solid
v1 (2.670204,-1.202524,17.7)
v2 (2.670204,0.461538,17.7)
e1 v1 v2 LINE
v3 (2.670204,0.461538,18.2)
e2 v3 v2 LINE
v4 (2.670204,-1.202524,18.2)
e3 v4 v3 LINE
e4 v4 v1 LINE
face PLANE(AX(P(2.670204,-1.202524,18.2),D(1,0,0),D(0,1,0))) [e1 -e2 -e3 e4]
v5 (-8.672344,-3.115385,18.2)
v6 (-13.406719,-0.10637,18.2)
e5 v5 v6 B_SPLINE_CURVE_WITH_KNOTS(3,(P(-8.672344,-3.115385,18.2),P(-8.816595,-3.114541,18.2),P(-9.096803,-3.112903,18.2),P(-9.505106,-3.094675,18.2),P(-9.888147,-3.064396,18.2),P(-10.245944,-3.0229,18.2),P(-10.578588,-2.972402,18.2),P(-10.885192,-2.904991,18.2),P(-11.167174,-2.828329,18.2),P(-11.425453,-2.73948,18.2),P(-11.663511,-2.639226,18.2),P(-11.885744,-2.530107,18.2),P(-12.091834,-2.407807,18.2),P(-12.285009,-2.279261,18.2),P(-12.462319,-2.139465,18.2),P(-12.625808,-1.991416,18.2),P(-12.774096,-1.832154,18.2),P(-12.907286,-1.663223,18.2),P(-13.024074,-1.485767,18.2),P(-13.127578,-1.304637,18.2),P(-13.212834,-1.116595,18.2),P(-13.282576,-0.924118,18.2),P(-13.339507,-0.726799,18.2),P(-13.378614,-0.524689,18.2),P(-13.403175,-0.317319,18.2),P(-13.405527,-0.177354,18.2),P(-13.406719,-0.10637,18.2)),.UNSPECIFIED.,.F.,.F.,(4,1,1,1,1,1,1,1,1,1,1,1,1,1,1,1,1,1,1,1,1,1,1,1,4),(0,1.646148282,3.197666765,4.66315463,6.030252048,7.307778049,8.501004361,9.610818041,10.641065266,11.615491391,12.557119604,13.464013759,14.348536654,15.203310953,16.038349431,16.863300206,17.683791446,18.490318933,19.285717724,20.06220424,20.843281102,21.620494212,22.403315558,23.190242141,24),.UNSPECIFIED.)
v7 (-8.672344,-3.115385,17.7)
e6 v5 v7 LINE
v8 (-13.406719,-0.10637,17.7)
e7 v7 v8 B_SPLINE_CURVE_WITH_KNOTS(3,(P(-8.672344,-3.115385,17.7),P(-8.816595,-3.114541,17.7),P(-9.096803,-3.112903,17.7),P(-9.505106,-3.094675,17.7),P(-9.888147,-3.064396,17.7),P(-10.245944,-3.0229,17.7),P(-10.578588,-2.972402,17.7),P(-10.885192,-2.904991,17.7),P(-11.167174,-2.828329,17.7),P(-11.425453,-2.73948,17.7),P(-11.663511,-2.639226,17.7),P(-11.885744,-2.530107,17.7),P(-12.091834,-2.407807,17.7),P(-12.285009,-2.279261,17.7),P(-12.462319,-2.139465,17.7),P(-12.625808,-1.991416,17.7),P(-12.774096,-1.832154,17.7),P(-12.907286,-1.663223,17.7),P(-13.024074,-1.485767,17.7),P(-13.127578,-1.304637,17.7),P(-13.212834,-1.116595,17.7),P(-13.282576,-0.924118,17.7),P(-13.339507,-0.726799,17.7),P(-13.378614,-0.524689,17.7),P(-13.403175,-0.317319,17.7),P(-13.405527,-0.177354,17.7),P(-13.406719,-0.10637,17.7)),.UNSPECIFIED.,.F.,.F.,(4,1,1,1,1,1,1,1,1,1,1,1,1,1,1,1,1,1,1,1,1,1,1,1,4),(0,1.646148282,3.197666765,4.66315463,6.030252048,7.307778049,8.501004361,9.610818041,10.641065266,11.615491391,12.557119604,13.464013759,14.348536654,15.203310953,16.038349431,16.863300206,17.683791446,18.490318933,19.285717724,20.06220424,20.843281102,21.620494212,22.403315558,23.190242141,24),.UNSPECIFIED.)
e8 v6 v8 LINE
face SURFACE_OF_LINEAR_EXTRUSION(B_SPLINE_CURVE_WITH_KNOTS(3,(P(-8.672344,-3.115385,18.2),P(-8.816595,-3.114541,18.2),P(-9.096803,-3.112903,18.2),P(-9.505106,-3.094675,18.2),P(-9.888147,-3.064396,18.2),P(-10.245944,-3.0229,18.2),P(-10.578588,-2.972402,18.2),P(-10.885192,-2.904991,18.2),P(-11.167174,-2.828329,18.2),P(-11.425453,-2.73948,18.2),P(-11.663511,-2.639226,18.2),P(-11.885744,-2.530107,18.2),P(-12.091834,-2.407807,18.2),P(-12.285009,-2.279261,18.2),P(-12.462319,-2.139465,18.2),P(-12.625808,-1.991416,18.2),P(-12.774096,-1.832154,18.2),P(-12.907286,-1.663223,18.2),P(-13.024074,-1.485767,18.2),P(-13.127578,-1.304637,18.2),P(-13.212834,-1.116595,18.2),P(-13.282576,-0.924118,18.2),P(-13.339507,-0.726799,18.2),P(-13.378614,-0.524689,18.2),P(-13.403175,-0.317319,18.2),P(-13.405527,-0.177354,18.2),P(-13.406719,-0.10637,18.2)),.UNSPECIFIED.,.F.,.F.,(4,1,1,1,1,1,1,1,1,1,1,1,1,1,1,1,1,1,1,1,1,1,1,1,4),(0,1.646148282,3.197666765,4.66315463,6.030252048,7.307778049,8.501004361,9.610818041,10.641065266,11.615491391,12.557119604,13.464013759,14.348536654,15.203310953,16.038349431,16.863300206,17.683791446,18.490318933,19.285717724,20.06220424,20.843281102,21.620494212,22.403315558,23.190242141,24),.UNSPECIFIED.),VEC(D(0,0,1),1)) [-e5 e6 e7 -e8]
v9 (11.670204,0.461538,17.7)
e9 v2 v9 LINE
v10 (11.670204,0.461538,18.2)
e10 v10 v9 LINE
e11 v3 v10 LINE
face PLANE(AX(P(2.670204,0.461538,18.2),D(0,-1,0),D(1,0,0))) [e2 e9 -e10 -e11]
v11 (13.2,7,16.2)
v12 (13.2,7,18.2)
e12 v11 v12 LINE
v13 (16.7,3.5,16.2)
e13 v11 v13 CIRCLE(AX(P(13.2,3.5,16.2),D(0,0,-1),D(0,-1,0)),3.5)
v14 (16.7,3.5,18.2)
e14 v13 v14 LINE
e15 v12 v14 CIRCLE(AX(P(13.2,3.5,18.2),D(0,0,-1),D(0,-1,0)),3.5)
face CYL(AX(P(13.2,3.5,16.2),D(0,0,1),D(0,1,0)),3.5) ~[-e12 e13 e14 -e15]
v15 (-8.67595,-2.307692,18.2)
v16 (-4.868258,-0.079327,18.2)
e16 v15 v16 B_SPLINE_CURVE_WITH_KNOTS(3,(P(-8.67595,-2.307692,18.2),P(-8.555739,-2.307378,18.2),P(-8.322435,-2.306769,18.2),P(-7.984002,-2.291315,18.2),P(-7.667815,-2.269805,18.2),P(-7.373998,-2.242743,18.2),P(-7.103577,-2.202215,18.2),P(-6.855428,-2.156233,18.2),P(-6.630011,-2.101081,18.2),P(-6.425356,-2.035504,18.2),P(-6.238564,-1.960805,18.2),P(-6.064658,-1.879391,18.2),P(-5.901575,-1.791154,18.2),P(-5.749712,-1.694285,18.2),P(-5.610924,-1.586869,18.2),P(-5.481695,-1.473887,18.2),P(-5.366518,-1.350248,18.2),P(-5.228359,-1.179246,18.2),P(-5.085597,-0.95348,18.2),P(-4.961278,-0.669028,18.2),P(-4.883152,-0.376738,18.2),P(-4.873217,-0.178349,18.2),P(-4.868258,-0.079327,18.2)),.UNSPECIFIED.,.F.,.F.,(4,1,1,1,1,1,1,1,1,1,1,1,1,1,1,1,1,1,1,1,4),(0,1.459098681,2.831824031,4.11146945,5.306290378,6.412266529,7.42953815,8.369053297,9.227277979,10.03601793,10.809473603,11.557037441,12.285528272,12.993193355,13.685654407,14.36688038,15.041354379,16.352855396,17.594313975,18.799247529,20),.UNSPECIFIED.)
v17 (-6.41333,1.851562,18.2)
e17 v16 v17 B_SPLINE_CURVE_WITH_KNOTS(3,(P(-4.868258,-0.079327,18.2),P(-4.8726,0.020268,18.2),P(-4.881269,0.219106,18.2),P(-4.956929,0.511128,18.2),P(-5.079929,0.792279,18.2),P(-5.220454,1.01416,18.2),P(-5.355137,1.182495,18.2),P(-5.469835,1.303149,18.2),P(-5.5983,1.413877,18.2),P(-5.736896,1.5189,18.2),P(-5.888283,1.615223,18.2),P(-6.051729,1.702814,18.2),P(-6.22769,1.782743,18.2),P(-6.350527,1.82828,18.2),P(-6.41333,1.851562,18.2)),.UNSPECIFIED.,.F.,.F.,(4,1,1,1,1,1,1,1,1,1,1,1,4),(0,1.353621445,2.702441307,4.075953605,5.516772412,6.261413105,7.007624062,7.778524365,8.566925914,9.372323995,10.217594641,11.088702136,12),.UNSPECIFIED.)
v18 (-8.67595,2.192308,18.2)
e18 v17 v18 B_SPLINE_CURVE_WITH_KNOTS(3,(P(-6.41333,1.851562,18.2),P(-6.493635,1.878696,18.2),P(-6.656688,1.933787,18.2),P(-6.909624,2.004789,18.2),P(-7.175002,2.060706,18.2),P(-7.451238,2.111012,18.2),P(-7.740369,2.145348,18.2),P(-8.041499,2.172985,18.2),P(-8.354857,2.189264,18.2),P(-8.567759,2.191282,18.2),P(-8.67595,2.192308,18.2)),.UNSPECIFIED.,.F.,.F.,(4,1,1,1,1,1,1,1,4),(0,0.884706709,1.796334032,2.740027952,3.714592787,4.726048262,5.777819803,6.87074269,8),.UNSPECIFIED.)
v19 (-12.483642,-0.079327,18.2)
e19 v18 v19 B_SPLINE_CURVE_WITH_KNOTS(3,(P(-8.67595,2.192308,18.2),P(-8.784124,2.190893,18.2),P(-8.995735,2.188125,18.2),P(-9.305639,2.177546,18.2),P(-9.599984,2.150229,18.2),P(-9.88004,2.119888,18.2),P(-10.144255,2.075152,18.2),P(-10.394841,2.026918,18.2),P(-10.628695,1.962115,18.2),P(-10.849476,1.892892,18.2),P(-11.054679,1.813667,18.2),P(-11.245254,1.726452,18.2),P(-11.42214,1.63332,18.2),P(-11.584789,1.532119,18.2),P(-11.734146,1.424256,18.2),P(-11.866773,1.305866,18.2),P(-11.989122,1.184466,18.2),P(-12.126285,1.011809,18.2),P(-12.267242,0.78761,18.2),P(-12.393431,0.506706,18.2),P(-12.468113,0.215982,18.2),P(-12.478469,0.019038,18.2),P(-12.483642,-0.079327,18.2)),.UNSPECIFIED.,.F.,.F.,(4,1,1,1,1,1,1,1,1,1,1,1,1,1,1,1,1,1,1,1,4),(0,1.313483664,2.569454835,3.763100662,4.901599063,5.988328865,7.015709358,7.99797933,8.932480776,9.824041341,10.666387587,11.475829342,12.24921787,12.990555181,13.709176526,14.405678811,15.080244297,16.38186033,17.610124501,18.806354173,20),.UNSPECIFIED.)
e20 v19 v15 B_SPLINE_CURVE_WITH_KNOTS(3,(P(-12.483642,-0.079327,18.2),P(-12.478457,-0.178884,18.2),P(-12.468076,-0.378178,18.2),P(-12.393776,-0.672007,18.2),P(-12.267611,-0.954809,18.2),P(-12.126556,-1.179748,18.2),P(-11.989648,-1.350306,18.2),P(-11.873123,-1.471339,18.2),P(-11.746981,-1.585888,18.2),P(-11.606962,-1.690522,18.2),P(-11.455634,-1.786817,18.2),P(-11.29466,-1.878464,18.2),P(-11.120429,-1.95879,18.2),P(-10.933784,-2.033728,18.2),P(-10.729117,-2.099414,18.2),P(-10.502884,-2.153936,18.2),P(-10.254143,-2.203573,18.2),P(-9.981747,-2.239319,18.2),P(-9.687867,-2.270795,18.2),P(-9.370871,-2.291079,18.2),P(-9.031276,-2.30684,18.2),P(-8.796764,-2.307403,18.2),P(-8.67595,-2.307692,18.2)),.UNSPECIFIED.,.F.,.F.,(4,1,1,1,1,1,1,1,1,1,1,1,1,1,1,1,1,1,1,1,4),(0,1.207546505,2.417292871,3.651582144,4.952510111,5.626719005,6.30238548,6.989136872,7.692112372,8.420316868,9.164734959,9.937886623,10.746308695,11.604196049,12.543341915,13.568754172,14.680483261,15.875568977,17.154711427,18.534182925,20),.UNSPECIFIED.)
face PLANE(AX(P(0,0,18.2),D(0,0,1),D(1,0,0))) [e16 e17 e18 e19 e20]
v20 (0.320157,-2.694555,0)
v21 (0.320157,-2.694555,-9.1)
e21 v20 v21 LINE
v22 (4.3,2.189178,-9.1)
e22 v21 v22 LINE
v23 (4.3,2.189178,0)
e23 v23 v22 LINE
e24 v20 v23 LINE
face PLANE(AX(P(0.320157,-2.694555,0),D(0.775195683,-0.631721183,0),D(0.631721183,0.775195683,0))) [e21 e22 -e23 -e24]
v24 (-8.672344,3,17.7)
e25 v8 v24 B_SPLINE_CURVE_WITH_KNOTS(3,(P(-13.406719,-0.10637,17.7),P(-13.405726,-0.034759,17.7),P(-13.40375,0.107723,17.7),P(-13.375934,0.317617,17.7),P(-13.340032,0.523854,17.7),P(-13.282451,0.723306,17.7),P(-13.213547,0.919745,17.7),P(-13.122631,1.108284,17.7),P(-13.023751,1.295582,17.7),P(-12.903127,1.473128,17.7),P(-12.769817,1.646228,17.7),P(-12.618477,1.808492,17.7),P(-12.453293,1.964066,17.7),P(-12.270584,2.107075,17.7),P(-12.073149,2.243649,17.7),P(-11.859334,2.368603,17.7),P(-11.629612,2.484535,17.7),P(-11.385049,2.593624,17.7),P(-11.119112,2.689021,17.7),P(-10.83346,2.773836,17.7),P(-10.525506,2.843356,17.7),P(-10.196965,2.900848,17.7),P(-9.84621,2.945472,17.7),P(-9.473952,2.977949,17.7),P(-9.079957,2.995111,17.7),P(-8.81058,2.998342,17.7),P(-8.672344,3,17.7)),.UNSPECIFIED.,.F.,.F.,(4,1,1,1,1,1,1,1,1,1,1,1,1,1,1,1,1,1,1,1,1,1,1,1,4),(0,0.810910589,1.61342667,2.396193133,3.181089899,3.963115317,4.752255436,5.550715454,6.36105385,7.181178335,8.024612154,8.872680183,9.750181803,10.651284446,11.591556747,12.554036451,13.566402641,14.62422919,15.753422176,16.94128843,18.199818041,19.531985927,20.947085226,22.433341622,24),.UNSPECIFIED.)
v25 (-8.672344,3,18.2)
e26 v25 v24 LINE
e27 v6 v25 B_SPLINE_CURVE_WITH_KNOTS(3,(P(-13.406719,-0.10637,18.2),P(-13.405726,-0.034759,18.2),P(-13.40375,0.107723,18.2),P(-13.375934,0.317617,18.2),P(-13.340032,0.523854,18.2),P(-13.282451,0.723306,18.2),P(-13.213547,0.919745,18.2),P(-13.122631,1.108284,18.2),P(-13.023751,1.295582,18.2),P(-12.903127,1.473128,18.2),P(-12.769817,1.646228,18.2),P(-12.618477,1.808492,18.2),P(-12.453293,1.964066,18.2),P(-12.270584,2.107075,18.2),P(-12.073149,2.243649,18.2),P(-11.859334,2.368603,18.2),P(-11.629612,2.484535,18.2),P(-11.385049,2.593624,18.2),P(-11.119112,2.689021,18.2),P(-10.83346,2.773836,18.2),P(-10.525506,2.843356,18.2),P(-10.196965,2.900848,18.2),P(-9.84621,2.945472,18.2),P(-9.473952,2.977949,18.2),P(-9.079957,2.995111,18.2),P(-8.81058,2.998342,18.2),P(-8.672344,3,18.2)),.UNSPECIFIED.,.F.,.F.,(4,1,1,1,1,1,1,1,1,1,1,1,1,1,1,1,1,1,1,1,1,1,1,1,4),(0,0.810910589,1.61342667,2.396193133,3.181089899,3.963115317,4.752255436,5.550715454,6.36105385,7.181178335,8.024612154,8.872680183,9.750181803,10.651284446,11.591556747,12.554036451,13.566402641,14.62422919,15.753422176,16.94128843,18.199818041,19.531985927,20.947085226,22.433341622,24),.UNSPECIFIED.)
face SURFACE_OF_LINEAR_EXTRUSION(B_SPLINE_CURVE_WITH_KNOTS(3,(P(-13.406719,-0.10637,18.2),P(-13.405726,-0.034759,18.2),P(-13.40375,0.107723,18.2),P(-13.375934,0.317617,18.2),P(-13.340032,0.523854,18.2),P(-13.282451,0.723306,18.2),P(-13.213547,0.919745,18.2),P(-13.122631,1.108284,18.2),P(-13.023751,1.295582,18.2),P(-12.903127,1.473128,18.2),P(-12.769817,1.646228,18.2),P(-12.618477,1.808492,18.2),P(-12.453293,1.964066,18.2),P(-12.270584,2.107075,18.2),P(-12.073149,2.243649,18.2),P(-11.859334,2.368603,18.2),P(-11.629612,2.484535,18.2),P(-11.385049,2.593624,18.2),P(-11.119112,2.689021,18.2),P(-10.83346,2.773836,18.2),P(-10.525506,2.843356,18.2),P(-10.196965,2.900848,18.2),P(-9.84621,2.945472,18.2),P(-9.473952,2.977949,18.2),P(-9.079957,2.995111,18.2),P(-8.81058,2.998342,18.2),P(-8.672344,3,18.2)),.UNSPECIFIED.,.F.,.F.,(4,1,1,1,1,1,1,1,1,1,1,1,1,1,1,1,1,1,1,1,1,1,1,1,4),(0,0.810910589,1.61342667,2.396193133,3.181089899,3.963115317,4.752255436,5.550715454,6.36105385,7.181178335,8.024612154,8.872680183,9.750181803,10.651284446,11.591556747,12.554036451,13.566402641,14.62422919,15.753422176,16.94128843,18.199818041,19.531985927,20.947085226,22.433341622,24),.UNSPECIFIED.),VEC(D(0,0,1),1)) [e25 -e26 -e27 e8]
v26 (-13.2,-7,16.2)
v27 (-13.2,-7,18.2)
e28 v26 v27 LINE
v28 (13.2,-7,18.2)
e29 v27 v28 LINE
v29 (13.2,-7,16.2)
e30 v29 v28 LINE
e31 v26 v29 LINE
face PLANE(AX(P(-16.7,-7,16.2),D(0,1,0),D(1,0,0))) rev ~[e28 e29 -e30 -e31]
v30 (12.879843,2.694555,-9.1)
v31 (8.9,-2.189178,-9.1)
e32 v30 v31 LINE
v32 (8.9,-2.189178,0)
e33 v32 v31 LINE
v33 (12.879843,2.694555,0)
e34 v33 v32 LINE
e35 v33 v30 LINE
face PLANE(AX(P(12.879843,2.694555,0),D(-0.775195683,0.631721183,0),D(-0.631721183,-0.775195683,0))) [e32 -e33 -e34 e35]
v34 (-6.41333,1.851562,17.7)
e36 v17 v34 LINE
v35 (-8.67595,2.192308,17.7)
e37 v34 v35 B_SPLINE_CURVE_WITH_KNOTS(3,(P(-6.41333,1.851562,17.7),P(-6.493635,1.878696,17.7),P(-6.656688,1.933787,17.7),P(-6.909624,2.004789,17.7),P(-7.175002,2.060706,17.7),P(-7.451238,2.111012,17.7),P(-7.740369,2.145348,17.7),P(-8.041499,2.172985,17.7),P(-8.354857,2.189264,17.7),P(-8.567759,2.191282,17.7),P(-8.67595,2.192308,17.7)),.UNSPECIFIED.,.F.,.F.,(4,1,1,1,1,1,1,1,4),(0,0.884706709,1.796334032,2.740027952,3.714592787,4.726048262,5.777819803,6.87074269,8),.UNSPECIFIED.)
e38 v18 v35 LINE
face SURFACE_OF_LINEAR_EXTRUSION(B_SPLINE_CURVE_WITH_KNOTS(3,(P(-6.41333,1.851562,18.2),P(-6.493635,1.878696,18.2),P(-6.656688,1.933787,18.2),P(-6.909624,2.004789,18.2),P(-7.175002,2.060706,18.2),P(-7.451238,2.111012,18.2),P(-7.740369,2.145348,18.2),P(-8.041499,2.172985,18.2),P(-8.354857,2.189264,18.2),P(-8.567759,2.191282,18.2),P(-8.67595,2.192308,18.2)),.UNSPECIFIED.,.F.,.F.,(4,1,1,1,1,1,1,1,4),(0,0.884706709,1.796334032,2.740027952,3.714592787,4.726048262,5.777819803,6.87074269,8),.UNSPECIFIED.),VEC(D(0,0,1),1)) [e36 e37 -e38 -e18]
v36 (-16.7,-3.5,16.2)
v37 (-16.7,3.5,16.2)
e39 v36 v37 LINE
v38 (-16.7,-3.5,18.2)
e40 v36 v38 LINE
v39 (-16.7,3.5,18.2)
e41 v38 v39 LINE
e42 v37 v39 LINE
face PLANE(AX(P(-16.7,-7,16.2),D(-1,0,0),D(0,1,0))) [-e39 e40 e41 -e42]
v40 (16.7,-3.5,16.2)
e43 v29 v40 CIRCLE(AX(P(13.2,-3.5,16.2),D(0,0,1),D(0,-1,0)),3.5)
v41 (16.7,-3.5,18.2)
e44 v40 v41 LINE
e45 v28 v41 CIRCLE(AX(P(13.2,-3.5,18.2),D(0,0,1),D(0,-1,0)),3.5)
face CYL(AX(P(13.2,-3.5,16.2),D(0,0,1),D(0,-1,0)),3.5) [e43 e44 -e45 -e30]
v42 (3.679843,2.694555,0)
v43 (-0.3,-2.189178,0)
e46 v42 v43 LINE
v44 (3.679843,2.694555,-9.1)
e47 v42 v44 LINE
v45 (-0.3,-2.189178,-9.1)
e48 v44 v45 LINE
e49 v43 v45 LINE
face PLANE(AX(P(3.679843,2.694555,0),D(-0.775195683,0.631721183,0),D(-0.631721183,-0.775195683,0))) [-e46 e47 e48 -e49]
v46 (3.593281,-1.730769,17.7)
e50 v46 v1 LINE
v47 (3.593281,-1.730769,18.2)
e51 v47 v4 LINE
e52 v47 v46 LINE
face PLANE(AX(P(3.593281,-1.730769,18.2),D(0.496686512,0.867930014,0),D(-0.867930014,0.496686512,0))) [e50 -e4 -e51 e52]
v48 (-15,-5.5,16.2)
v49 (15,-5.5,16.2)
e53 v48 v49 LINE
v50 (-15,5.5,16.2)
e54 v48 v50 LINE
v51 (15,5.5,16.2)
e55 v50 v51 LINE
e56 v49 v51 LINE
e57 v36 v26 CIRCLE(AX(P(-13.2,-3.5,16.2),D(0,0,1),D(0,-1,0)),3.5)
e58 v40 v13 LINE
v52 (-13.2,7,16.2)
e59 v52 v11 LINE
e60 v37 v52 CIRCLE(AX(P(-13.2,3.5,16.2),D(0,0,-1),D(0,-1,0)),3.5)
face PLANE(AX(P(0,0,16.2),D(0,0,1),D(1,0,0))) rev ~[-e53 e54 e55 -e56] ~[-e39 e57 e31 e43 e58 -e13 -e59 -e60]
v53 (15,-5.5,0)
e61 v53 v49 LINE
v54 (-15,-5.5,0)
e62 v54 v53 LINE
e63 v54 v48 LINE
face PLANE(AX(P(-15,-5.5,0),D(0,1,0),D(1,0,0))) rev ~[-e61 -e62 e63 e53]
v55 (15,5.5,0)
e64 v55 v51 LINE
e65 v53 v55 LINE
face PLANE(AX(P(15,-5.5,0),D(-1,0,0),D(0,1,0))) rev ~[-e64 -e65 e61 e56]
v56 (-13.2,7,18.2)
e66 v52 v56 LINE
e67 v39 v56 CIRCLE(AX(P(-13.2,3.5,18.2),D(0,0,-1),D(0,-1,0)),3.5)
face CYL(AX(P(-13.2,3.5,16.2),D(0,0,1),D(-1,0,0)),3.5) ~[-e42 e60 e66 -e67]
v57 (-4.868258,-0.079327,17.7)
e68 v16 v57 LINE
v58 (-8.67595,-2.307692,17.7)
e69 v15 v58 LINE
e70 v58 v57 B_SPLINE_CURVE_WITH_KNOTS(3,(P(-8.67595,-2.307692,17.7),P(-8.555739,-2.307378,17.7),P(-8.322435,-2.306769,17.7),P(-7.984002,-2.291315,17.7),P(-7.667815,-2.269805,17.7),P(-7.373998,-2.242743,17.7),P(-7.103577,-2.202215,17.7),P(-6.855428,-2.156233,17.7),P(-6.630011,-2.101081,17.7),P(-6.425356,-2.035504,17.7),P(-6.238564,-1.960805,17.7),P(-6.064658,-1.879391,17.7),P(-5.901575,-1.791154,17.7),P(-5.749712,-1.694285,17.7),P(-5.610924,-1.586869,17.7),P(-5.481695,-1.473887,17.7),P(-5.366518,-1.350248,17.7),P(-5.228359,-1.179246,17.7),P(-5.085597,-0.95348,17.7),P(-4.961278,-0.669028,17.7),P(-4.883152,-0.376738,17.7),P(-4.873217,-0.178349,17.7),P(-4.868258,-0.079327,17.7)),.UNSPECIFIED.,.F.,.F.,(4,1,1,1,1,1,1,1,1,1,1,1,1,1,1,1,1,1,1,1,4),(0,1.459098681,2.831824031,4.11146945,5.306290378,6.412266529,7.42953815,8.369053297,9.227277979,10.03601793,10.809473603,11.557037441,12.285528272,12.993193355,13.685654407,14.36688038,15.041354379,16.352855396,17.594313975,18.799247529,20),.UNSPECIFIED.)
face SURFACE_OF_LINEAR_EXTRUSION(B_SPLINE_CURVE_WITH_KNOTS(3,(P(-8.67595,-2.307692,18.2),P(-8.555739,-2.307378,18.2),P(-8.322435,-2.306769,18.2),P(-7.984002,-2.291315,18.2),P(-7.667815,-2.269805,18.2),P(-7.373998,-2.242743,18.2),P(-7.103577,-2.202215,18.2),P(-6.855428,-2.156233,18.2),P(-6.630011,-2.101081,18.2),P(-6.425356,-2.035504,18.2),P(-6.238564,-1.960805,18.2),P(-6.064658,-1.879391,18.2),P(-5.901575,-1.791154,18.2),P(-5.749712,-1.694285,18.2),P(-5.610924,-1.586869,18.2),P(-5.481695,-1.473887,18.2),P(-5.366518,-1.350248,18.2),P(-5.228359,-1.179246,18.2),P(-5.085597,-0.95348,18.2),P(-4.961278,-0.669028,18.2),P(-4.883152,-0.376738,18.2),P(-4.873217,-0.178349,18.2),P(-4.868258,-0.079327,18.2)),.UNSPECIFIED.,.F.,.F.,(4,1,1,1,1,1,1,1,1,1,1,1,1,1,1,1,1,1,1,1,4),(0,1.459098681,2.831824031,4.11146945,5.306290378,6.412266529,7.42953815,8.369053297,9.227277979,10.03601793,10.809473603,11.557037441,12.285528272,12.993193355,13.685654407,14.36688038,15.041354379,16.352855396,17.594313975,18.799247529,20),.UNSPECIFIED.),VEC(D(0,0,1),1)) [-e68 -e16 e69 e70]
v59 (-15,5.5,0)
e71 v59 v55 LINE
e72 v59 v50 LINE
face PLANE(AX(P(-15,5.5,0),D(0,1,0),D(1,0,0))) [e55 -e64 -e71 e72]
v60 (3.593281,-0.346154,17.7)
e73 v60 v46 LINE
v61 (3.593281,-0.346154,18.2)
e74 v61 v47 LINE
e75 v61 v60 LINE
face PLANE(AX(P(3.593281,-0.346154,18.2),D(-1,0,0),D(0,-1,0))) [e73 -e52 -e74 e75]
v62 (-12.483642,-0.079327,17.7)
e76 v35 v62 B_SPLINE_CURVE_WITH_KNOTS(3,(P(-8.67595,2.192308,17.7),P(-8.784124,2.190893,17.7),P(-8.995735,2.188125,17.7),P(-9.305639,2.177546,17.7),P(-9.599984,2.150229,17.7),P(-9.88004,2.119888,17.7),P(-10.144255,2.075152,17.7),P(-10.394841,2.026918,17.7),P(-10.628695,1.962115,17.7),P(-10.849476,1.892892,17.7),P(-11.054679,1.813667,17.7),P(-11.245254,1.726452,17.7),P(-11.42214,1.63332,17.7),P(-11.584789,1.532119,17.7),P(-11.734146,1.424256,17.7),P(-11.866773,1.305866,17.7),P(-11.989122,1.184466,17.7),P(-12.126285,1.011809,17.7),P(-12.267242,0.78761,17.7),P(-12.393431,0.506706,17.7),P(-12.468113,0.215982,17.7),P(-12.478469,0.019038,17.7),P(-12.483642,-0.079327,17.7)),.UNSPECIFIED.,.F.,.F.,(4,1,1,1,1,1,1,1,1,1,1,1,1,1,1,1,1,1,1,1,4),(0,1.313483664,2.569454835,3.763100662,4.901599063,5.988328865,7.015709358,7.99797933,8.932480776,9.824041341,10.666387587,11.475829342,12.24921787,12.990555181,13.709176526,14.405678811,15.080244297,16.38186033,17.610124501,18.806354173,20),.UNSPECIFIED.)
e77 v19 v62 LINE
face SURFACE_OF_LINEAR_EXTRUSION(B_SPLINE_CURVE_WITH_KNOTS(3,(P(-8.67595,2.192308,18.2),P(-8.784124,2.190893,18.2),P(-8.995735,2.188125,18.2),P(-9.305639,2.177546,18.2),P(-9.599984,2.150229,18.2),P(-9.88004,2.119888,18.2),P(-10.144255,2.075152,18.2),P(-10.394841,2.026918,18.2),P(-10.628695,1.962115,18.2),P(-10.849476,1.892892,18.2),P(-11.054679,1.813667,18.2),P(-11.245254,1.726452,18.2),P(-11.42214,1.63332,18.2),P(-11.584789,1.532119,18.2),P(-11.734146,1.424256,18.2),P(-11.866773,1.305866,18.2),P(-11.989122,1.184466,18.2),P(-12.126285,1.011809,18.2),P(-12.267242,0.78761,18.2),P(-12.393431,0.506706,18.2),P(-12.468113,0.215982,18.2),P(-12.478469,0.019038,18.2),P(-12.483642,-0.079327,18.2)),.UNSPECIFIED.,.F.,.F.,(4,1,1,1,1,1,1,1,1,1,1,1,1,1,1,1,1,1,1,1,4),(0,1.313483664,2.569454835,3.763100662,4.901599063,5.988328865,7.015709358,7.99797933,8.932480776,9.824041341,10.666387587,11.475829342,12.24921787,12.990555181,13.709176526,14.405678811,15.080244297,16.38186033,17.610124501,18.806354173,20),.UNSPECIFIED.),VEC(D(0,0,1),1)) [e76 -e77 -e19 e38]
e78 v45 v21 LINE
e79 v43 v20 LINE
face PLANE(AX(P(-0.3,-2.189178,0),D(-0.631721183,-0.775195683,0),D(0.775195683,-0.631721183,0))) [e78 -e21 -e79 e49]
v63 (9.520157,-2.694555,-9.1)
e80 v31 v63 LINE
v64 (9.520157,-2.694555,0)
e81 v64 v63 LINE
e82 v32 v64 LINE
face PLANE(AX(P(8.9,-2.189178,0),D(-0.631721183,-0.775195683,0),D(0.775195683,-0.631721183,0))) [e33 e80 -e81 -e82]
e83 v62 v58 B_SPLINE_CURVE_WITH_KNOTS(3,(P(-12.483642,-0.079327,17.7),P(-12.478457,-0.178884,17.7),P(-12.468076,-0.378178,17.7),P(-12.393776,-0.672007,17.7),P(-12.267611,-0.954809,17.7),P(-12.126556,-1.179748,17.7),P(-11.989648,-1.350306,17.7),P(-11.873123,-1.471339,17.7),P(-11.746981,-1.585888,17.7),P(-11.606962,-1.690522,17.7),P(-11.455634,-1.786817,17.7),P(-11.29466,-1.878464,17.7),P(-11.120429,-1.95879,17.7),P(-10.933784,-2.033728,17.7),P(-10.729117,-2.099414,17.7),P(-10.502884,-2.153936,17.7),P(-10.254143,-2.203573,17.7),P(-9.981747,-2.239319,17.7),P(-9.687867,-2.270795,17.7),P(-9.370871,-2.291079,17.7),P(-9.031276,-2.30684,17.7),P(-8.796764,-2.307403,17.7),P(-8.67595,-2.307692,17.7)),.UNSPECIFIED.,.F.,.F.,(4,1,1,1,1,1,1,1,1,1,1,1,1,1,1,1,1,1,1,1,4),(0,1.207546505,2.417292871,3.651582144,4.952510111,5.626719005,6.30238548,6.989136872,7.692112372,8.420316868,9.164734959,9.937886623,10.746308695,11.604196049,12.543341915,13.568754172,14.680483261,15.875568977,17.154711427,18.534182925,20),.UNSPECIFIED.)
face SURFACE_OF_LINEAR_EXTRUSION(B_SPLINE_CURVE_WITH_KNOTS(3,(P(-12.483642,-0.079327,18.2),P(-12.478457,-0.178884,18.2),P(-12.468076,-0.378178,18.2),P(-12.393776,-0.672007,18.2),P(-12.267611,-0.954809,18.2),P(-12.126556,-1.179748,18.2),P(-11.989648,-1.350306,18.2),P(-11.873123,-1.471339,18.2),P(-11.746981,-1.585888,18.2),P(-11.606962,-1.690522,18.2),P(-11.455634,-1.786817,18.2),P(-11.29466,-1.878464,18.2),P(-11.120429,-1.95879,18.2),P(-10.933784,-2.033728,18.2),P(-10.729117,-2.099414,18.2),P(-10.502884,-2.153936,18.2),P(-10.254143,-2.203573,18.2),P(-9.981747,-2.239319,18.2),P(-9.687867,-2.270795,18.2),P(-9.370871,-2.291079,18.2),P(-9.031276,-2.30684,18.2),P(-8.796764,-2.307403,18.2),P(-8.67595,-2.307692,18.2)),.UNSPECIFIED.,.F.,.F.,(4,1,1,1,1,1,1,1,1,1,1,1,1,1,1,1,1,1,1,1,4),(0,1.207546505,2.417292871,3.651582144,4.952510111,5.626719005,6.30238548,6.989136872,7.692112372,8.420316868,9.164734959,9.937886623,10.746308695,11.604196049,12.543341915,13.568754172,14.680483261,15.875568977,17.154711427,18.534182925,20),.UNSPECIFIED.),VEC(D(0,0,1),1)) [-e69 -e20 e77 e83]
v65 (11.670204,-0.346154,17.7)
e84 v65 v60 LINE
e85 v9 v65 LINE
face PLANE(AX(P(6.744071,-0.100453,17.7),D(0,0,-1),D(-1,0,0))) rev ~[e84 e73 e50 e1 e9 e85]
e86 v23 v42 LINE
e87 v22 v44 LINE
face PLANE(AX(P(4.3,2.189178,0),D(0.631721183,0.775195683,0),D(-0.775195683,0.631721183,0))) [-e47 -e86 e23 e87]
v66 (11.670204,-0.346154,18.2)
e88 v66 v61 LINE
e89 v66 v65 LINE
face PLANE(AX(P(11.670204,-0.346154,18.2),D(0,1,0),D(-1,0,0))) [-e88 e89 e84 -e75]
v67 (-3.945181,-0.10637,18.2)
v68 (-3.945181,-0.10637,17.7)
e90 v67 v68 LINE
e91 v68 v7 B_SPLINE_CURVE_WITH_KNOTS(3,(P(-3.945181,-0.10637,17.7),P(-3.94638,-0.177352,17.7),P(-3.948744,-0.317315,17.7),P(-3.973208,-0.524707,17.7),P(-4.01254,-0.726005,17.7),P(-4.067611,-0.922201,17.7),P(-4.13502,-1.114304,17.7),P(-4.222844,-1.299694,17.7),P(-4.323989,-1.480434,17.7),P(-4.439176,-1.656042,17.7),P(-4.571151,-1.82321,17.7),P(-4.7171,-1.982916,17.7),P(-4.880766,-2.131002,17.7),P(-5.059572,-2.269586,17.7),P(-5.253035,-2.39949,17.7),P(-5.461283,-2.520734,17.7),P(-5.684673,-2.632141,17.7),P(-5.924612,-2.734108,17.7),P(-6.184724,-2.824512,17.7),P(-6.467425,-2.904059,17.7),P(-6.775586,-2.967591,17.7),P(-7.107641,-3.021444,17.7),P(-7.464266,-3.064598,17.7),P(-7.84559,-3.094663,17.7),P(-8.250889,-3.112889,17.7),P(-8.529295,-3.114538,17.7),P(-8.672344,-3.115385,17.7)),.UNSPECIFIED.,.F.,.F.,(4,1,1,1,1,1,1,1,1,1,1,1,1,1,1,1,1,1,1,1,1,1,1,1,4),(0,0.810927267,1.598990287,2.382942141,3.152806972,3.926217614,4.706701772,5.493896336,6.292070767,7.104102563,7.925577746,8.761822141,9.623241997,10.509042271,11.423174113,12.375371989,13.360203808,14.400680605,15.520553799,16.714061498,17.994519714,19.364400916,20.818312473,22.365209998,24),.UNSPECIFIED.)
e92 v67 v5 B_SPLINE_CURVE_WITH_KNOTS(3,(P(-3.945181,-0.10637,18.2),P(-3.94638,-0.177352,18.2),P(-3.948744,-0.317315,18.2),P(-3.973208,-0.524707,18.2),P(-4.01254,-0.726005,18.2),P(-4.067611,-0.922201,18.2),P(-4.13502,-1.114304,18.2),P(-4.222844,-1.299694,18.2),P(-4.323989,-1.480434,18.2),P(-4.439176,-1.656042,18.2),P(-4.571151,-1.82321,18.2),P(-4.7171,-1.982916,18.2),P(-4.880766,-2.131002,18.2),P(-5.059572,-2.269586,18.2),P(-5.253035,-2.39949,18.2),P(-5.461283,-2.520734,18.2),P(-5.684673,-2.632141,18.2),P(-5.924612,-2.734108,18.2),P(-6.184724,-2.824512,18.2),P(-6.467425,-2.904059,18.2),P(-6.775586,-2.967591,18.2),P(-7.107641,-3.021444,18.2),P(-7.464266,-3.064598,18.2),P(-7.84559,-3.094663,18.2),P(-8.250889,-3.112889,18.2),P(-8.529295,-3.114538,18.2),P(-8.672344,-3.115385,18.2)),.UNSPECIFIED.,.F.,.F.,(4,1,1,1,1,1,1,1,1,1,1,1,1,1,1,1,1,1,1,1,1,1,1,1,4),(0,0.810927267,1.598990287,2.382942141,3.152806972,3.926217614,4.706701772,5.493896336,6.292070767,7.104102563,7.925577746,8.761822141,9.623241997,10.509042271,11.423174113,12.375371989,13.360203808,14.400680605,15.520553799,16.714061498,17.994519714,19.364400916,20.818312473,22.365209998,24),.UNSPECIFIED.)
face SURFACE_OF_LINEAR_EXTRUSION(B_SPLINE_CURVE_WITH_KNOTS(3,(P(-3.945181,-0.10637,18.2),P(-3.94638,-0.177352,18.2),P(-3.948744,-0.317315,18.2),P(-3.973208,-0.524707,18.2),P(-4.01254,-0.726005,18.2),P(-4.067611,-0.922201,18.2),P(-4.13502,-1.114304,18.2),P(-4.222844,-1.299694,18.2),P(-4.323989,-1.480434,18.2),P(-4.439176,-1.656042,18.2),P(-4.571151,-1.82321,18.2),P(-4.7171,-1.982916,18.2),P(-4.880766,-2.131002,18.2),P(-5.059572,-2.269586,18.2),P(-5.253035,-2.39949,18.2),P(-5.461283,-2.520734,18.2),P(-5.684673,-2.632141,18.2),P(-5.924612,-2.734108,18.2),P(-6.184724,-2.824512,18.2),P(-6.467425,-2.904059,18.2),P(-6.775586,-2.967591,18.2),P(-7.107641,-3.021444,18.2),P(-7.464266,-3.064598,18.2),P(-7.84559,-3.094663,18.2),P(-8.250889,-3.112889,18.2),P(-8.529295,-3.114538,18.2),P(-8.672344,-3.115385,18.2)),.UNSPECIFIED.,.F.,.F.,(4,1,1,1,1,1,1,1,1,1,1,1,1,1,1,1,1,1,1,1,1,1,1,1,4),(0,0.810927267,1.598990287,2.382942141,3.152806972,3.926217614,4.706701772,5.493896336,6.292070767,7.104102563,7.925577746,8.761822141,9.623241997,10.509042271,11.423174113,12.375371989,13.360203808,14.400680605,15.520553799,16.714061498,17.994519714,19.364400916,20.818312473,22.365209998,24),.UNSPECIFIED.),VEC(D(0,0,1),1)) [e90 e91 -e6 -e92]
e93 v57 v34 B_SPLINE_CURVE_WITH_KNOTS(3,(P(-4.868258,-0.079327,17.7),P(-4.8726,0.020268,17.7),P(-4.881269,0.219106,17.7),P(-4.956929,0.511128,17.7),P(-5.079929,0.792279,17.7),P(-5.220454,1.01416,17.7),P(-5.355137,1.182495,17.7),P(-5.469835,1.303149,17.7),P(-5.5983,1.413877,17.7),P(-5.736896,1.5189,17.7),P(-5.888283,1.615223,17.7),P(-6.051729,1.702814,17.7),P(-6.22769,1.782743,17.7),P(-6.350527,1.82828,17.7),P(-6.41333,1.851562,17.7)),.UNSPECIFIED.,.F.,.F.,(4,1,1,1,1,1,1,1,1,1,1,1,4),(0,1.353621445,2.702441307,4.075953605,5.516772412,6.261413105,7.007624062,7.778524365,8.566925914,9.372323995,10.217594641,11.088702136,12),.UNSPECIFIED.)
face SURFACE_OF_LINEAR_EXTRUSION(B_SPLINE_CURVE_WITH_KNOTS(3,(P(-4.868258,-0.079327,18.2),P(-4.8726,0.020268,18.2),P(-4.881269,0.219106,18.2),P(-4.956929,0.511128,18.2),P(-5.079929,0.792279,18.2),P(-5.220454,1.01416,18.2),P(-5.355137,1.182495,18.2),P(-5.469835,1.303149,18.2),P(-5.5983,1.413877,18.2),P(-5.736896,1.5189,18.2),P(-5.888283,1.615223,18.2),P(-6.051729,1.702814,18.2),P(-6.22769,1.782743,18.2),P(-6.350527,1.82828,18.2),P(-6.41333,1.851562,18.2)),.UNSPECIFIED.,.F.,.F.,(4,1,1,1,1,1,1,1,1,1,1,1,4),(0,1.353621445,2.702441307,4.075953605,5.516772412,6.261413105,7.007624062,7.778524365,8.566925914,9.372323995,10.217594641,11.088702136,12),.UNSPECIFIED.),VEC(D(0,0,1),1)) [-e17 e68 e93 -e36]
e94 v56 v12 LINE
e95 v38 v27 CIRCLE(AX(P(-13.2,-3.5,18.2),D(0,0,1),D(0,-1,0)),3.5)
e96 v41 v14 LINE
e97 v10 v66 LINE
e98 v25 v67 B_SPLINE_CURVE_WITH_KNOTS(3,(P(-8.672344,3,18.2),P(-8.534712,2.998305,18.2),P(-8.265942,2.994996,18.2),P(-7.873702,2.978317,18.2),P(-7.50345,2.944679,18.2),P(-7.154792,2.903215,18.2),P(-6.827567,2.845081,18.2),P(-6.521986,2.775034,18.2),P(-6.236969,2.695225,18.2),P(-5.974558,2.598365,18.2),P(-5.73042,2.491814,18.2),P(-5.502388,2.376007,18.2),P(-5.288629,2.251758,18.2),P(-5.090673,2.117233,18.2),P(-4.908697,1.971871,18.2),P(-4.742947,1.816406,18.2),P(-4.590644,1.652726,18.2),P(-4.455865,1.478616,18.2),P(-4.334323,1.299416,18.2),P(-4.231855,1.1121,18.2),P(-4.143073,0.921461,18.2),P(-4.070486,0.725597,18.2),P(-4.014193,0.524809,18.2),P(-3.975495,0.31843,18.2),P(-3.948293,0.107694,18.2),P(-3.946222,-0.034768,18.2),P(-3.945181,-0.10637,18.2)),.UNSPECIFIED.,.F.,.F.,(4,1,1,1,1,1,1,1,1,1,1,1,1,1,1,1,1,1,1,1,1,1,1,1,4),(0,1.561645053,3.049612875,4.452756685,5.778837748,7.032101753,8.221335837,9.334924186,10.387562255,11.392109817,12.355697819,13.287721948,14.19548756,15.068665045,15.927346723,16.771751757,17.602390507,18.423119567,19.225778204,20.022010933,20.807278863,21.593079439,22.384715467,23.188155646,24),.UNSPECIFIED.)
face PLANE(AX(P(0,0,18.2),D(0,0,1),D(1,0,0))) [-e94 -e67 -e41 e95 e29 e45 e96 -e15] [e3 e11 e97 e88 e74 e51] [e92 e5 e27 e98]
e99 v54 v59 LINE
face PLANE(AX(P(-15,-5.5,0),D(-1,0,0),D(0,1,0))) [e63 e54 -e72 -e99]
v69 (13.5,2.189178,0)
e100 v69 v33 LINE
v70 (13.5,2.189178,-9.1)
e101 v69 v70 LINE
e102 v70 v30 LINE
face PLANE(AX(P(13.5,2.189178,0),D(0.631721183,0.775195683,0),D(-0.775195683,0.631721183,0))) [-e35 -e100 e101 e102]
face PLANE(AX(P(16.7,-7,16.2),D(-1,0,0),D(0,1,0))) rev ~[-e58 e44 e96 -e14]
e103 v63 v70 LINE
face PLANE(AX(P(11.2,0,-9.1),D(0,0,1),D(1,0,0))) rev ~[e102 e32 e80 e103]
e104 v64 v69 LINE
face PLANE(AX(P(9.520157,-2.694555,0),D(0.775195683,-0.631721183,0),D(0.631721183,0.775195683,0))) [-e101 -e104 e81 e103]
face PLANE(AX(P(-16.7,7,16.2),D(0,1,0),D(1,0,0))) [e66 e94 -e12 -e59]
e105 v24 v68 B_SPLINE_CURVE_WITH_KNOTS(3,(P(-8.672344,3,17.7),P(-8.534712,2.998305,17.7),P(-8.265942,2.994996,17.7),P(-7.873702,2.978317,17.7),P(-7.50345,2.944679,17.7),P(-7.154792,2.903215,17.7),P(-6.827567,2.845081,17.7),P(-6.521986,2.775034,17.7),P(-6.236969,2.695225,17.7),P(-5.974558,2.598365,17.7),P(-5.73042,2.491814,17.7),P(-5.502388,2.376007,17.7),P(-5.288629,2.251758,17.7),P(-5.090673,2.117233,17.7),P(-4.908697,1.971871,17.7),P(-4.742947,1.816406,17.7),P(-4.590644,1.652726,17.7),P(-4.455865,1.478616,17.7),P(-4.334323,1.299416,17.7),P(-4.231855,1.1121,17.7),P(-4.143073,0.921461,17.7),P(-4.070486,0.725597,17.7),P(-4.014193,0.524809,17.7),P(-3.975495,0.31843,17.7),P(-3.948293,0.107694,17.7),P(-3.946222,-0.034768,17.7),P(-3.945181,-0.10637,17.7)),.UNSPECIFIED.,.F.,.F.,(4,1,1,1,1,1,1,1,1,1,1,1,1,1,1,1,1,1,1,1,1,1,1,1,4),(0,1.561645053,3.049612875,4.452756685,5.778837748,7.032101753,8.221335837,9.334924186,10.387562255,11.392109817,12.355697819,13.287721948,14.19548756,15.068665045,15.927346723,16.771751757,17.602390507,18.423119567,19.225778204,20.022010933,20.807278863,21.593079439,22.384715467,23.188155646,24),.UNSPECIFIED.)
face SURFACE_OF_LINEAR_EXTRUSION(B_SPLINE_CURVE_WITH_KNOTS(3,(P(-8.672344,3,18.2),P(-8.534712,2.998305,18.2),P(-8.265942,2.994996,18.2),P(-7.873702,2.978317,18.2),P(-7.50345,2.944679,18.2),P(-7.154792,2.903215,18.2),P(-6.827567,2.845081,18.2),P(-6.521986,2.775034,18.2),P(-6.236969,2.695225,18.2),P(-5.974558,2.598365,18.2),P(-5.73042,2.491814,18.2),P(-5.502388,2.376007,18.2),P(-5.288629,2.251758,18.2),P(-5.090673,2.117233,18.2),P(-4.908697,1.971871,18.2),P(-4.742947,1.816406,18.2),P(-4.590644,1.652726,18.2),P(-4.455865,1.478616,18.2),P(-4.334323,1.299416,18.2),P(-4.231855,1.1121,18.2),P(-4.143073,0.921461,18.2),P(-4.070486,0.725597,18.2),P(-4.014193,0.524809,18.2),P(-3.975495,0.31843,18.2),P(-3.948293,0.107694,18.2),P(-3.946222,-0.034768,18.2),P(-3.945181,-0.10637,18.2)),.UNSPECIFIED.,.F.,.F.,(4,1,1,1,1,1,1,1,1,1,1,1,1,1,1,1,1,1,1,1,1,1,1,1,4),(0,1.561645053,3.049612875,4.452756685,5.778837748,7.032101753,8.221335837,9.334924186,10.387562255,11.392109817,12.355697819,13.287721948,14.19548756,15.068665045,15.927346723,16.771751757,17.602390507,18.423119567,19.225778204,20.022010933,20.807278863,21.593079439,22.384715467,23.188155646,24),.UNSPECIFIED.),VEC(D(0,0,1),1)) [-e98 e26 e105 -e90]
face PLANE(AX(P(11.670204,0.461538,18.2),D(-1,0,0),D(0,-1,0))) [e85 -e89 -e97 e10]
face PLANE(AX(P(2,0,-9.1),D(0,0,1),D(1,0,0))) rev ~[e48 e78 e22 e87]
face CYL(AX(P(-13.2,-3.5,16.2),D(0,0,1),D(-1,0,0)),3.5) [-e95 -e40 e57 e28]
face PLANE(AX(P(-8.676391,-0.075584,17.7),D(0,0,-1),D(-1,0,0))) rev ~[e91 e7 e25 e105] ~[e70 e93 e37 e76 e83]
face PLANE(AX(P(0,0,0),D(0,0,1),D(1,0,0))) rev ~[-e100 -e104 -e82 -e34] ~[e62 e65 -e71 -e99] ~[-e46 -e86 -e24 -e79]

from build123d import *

# Parameters (mm, degrees)
ESQUISSE1_W             = 30
ESQUISSE1_H             = 11
BOSS_EXTRU_1_DEPTH      = 16.2
BOSS_EXTRU_2_DEPTH      = 9.1
ESQUISSE3_W             = 33.4
ESQUISSE3_H             = 14
BOSS_EXTRU_3_DEPTH      = 2
CONG_1_R                = 3.5
ENL_V_MAT_EXTRU_1_DEPTH = 0.5


with BuildPart() as part:
    # Esquisse1 → Boss.-Extru.1 (new body)
    with BuildSketch(Plane.XY):
        Rectangle(ESQUISSE1_W, ESQUISSE1_H)
    extrude(amount=BOSS_EXTRU_1_DEPTH)

    # Esquisse2 → Boss.-Extru.2 (add)
    with BuildSketch(Plane(origin=(0, 0, 0), x_dir=(-1, 0, 0), z_dir=(0, 0, -1))):
        Polygon((-9.520156546, -2.694554874), (-13.5, 2.189177928), (-12.879843454, 2.694554874), (-8.9, -2.189177928), align=None)
        Polygon((-0.320156546, -2.694554874), (-4.3, 2.189177928), (-3.679843454, 2.694554874), (0.3, -2.189177928), align=None)
    extrude(amount=BOSS_EXTRU_2_DEPTH)

    # Esquisse3 → Boss.-Extru.3 (add)
    with BuildSketch(Plane.XY.offset(16.2)):
        Rectangle(ESQUISSE3_W, ESQUISSE3_H)
    extrude(amount=BOSS_EXTRU_3_DEPTH)

    # Congé1
    cong_1_edges = [part.edges().sort_by_distance(p)[0] for p in [
        (16.7, -7, 17.2),
        (16.7, 7, 17.2),
        (-16.7, 7, 17.2),
        (-16.7, -7, 17.2),
    ]]
    fillet(cong_1_edges, radius=CONG_1_R)

    # Esquisse5 → Enlèv. mat.-Extru.1 (cut)
    # profile 1 of 2: a face of its own
    with BuildSketch(Plane.XY.offset(18.2)):
        with BuildLine():
            add(Edge.make_bspline(
                [(-8.672344116, -3.115384615), (-8.816594542, -3.11454114), (-9.096803073, -3.112902677), (-9.505106438, -3.094675309), (-9.888147182, -3.064395858), (-10.245943635, -3.022899755), (-10.578588179, -2.972402097), (-10.885191819, -2.904990826), (-11.167173735, -2.828329399), (-11.425453052, -2.739480033), (-11.663510816, -2.639226475), (-11.885744181, -2.530107135), (-12.0918336, -2.40780713), (-12.285008724, -2.279261226), (-12.462319222, -2.139465144), (-12.62580805, -1.99141638), (-12.774096473, -1.832153938), (-12.907286041, -1.663222517), (-13.024073857, -1.485767046), (-13.127578093, -1.304636715), (-13.212833981, -1.116595132), (-13.282575645, -0.924117757), (-13.339507374, -0.72679892), (-13.378613639, -0.524688996), (-13.403175484, -0.317319479), (-13.405526699, -0.177353753), (-13.406719116, -0.106370192)],
                knots=[0, 0, 0, 0, 1.646148282, 3.197666765, 4.66315463, 6.030252048, 7.307778049, 8.501004361, 9.610818041, 10.641065266, 11.615491391, 12.557119604, 13.464013759, 14.348536654, 15.203310953, 16.038349431, 16.863300206, 17.683791446, 18.490318933, 19.285717724, 20.06220424, 20.843281102, 21.620494212, 22.403315558, 23.190242141, 24, 24, 24, 24], degree=3))
            add(Edge.make_bspline(
                [(-13.406719116, -0.106370192), (-13.405725902, -0.034758535), (-13.403749756, 0.107723458), (-13.375934308, 0.317616697), (-13.340032104, 0.523853953), (-13.28245088, 0.7233062), (-13.213547479, 0.919744698), (-13.122630536, 1.108284414), (-13.0237513, 1.295581798), (-12.90312695, 1.47312818), (-12.769817193, 1.646228322), (-12.618476538, 1.808491632), (-12.453293353, 1.964065993), (-12.270583572, 2.107075425), (-12.073148677, 2.243649111), (-11.859333594, 2.368602577), (-11.629612167, 2.484534626), (-11.385049352, 2.593624475), (-11.119112495, 2.689020666), (-10.833460316, 2.773835506), (-10.525506096, 2.843355619), (-10.196965336, 2.90084753), (-9.846210449, 2.945472196), (-9.473952104, 2.977949275), (-9.079957413, 2.995110587), (-8.810580002, 2.99834183), (-8.672344116, 3)],
                knots=[0, 0, 0, 0, 0.810910589, 1.61342667, 2.396193133, 3.181089899, 3.963115317, 4.752255436, 5.550715454, 6.36105385, 7.181178335, 8.024612154, 8.872680183, 9.750181803, 10.651284446, 11.591556747, 12.554036451, 13.566402641, 14.62422919, 15.753422176, 16.94128843, 18.199818041, 19.531985927, 20.947085226, 22.433341622, 24, 24, 24, 24], degree=3))
            add(Edge.make_bspline(
                [(-8.672344116, 3), (-8.534712415, 2.998305349), (-8.265942373, 2.994995999), (-7.873701987, 2.978317337), (-7.503450196, 2.944678932), (-7.154792256, 2.903215364), (-6.827566515, 2.845080871), (-6.521986194, 2.775033615), (-6.2369694, 2.695225184), (-5.974558239, 2.598364918), (-5.730419815, 2.491814224), (-5.502387515, 2.376006578), (-5.288628898, 2.251758245), (-5.090673237, 2.117232847), (-4.908696823, 1.971871056), (-4.74294709, 1.816405738), (-4.590643844, 1.652725679), (-4.455865409, 1.478616394), (-4.334322685, 1.299416276), (-4.231855178, 1.112099864), (-4.143073095, 0.921461088), (-4.070485552, 0.725596603), (-4.014193065, 0.524808811), (-3.975495046, 0.318430198), (-3.948293311, 0.107693838), (-3.9462218, -0.034768443), (-3.945180655, -0.106370192)],
                knots=[0, 0, 0, 0, 1.561645053, 3.049612875, 4.452756685, 5.778837748, 7.032101753, 8.221335837, 9.334924186, 10.387562255, 11.392109817, 12.355697819, 13.287721948, 14.19548756, 15.068665045, 15.927346723, 16.771751757, 17.602390507, 18.423119567, 19.225778204, 20.022010933, 20.807278863, 21.593079439, 22.384715467, 23.188155646, 24, 24, 24, 24], degree=3))
            add(Edge.make_bspline(
                [(-3.945180655, -0.106370192), (-3.946379855, -0.1773522), (-3.948744442, -0.317314863), (-3.973208323, -0.524706815), (-4.012539618, -0.726004524), (-4.067610881, -0.922201329), (-4.13502048, -1.114303766), (-4.22284416, -1.299694332), (-4.323989205, -1.480433653), (-4.439176304, -1.65604218), (-4.571150652, -1.823209934), (-4.717099564, -1.982916346), (-4.880765666, -2.131001619), (-5.059572209, -2.269585542), (-5.253034743, -2.399490408), (-5.461283099, -2.520733579), (-5.684672864, -2.632141235), (-5.924612019, -2.734107607), (-6.184724486, -2.824512173), (-6.467425199, -2.904059364), (-6.775585556, -2.967591262), (-7.107640965, -3.021444367), (-7.464266137, -3.064597565), (-7.845590095, -3.094662735), (-8.250888737, -3.11288884), (-8.529295376, -3.114537509), (-8.672344116, -3.115384615)],
                knots=[0, 0, 0, 0, 0.810927267, 1.598990287, 2.382942141, 3.152806972, 3.926217614, 4.706701772, 5.493896336, 6.292070767, 7.104102563, 7.925577746, 8.761822141, 9.623241997, 10.509042271, 11.423174113, 12.375371989, 13.360203808, 14.400680605, 15.520553799, 16.714061498, 17.994519714, 19.364400916, 20.818312473, 22.365209998, 24, 24, 24, 24], degree=3))
        make_face()
        with BuildLine():
            add(Edge.make_bspline(
                [(-8.675949886, -2.307692308), (-8.555739426, -2.307378423), (-8.32243453, -2.306769235), (-7.984001554, -2.291315187), (-7.667814755, -2.269804728), (-7.373997537, -2.242743333), (-7.103576783, -2.202215046), (-6.855428255, -2.156233227), (-6.630011273, -2.10108084), (-6.425355958, -2.035503901), (-6.238564308, -1.960805385), (-6.064657667, -1.879390931), (-5.901574914, -1.791153635), (-5.749711712, -1.694284826), (-5.610924423, -1.58686934), (-5.481695105, -1.47388697), (-5.366518241, -1.350247925), (-5.228358565, -1.179245905), (-5.085597394, -0.953479952), (-4.961278178, -0.669028437), (-4.883152037, -0.376737863), (-4.873216642, -0.17834897), (-4.868257578, -0.079326923)],
                knots=[0, 0, 0, 0, 1.459098681, 2.831824031, 4.11146945, 5.306290378, 6.412266529, 7.42953815, 8.369053297, 9.227277979, 10.03601793, 10.809473603, 11.557037441, 12.285528272, 12.993193355, 13.685654407, 14.36688038, 15.041354379, 16.352855396, 17.594313975, 18.799247529, 20, 20, 20, 20], degree=3))
            add(Edge.make_bspline(
                [(-4.868257578, -0.079326923), (-4.872599831, 0.020268324), (-4.881268934, 0.219105532), (-4.956929449, 0.511127608), (-5.079929419, 0.792278573), (-5.220453969, 1.014159934), (-5.355136893, 1.182494904), (-5.469834642, 1.303148633), (-5.598299711, 1.413876824), (-5.736895921, 1.518900078), (-5.88828286, 1.615223199), (-6.051729325, 1.702814186), (-6.227690112, 1.782742777), (-6.350526578, 1.828280326), (-6.413329693, 1.8515625)],
                knots=[0, 0, 0, 0, 1.353621445, 2.702441307, 4.075953605, 5.516772412, 6.261413105, 7.007624062, 7.778524365, 8.566925914, 9.372323995, 10.217594641, 11.088702136, 12, 12, 12, 12], degree=3))
            add(Edge.make_bspline(
                [(-6.413329693, 1.8515625), (-6.493634738, 1.878695617), (-6.656688417, 1.933787481), (-6.909623522, 2.004789187), (-7.175002058, 2.060705927), (-7.451238073, 2.111011725), (-7.740368732, 2.145348154), (-8.041499434, 2.172985389), (-8.354857222, 2.189264298), (-8.567758628, 2.191282229), (-8.675949886, 2.192307692)],
                knots=[0, 0, 0, 0, 0.884706709, 1.796334032, 2.740027952, 3.714592787, 4.726048262, 5.777819803, 6.87074269, 8, 8, 8, 8], degree=3))
            add(Edge.make_bspline(
                [(-8.675949886, 2.192307692), (-8.784123643, 2.19089292), (-8.995734639, 2.188125323), (-9.305638532, 2.177546497), (-9.599984203, 2.150228735), (-9.880039702, 2.119888142), (-10.144254773, 2.075152436), (-10.394841251, 2.026918055), (-10.628694816, 1.962115009), (-10.849476345, 1.892892484), (-11.054678905, 1.813666605), (-11.245254183, 1.726451773), (-11.422139784, 1.633320403), (-11.584789178, 1.53211866), (-11.734145807, 1.424256181), (-11.866772982, 1.305865626), (-11.989122286, 1.184465672), (-12.12628489, 1.011809345), (-12.267242107, 0.787609853), (-12.393430821, 0.506705562), (-12.468112707, 0.21598173), (-12.47846943, 0.019038319), (-12.483642193, -0.079326923)],
                knots=[0, 0, 0, 0, 1.313483664, 2.569454835, 3.763100662, 4.901599063, 5.988328865, 7.015709358, 7.99797933, 8.932480776, 9.824041341, 10.666387587, 11.475829342, 12.24921787, 12.990555181, 13.709176526, 14.405678811, 15.080244297, 16.38186033, 17.610124501, 18.806354173, 20, 20, 20, 20], degree=3))
            add(Edge.make_bspline(
                [(-12.483642193, -0.079326923), (-12.478456561, -0.178883567), (-12.468075849, -0.378178222), (-12.393776202, -0.672006713), (-12.267611311, -0.954808682), (-12.12655646, -1.179747502), (-11.989648182, -1.350306344), (-11.873123474, -1.471338898), (-11.74698074, -1.585888179), (-11.606962249, -1.690522154), (-11.455634138, -1.786816559), (-11.29466033, -1.87846391), (-11.120428745, -1.958789639), (-10.933783565, -2.033727971), (-10.729116994, -2.099414291), (-10.502884375, -2.1539365), (-10.254143251, -2.203572524), (-9.981746648, -2.239318551), (-9.687866721, -2.270795303), (-9.370871329, -2.291079041), (-9.031276204, -2.30684003), (-8.796764226, -2.307402525), (-8.675949886, -2.307692308)],
                knots=[0, 0, 0, 0, 1.207546505, 2.417292871, 3.651582144, 4.952510111, 5.626719005, 6.30238548, 6.989136872, 7.692112372, 8.420316868, 9.164734959, 9.937886623, 10.746308695, 11.604196049, 12.543341915, 13.568754172, 14.680483261, 15.875568977, 17.154711427, 18.534182925, 20, 20, 20, 20], degree=3))
        make_face(mode=Mode.SUBTRACT)
    # profile 2 of 2: a face of its own
    with BuildSketch(Plane.XY.offset(18.2)):
        Polygon((2.670203961, -1.202524038), (2.670203961, 0.461538462), (11.670203961, 0.461538462), (11.670203961, -0.346153846), (3.593280884, -0.346153846), (3.593280884, -1.730769231), align=None)
    extrude(amount=-ENL_V_MAT_EXTRU_1_DEPTH, mode=Mode.SUBTRACT)


solid = part.part
